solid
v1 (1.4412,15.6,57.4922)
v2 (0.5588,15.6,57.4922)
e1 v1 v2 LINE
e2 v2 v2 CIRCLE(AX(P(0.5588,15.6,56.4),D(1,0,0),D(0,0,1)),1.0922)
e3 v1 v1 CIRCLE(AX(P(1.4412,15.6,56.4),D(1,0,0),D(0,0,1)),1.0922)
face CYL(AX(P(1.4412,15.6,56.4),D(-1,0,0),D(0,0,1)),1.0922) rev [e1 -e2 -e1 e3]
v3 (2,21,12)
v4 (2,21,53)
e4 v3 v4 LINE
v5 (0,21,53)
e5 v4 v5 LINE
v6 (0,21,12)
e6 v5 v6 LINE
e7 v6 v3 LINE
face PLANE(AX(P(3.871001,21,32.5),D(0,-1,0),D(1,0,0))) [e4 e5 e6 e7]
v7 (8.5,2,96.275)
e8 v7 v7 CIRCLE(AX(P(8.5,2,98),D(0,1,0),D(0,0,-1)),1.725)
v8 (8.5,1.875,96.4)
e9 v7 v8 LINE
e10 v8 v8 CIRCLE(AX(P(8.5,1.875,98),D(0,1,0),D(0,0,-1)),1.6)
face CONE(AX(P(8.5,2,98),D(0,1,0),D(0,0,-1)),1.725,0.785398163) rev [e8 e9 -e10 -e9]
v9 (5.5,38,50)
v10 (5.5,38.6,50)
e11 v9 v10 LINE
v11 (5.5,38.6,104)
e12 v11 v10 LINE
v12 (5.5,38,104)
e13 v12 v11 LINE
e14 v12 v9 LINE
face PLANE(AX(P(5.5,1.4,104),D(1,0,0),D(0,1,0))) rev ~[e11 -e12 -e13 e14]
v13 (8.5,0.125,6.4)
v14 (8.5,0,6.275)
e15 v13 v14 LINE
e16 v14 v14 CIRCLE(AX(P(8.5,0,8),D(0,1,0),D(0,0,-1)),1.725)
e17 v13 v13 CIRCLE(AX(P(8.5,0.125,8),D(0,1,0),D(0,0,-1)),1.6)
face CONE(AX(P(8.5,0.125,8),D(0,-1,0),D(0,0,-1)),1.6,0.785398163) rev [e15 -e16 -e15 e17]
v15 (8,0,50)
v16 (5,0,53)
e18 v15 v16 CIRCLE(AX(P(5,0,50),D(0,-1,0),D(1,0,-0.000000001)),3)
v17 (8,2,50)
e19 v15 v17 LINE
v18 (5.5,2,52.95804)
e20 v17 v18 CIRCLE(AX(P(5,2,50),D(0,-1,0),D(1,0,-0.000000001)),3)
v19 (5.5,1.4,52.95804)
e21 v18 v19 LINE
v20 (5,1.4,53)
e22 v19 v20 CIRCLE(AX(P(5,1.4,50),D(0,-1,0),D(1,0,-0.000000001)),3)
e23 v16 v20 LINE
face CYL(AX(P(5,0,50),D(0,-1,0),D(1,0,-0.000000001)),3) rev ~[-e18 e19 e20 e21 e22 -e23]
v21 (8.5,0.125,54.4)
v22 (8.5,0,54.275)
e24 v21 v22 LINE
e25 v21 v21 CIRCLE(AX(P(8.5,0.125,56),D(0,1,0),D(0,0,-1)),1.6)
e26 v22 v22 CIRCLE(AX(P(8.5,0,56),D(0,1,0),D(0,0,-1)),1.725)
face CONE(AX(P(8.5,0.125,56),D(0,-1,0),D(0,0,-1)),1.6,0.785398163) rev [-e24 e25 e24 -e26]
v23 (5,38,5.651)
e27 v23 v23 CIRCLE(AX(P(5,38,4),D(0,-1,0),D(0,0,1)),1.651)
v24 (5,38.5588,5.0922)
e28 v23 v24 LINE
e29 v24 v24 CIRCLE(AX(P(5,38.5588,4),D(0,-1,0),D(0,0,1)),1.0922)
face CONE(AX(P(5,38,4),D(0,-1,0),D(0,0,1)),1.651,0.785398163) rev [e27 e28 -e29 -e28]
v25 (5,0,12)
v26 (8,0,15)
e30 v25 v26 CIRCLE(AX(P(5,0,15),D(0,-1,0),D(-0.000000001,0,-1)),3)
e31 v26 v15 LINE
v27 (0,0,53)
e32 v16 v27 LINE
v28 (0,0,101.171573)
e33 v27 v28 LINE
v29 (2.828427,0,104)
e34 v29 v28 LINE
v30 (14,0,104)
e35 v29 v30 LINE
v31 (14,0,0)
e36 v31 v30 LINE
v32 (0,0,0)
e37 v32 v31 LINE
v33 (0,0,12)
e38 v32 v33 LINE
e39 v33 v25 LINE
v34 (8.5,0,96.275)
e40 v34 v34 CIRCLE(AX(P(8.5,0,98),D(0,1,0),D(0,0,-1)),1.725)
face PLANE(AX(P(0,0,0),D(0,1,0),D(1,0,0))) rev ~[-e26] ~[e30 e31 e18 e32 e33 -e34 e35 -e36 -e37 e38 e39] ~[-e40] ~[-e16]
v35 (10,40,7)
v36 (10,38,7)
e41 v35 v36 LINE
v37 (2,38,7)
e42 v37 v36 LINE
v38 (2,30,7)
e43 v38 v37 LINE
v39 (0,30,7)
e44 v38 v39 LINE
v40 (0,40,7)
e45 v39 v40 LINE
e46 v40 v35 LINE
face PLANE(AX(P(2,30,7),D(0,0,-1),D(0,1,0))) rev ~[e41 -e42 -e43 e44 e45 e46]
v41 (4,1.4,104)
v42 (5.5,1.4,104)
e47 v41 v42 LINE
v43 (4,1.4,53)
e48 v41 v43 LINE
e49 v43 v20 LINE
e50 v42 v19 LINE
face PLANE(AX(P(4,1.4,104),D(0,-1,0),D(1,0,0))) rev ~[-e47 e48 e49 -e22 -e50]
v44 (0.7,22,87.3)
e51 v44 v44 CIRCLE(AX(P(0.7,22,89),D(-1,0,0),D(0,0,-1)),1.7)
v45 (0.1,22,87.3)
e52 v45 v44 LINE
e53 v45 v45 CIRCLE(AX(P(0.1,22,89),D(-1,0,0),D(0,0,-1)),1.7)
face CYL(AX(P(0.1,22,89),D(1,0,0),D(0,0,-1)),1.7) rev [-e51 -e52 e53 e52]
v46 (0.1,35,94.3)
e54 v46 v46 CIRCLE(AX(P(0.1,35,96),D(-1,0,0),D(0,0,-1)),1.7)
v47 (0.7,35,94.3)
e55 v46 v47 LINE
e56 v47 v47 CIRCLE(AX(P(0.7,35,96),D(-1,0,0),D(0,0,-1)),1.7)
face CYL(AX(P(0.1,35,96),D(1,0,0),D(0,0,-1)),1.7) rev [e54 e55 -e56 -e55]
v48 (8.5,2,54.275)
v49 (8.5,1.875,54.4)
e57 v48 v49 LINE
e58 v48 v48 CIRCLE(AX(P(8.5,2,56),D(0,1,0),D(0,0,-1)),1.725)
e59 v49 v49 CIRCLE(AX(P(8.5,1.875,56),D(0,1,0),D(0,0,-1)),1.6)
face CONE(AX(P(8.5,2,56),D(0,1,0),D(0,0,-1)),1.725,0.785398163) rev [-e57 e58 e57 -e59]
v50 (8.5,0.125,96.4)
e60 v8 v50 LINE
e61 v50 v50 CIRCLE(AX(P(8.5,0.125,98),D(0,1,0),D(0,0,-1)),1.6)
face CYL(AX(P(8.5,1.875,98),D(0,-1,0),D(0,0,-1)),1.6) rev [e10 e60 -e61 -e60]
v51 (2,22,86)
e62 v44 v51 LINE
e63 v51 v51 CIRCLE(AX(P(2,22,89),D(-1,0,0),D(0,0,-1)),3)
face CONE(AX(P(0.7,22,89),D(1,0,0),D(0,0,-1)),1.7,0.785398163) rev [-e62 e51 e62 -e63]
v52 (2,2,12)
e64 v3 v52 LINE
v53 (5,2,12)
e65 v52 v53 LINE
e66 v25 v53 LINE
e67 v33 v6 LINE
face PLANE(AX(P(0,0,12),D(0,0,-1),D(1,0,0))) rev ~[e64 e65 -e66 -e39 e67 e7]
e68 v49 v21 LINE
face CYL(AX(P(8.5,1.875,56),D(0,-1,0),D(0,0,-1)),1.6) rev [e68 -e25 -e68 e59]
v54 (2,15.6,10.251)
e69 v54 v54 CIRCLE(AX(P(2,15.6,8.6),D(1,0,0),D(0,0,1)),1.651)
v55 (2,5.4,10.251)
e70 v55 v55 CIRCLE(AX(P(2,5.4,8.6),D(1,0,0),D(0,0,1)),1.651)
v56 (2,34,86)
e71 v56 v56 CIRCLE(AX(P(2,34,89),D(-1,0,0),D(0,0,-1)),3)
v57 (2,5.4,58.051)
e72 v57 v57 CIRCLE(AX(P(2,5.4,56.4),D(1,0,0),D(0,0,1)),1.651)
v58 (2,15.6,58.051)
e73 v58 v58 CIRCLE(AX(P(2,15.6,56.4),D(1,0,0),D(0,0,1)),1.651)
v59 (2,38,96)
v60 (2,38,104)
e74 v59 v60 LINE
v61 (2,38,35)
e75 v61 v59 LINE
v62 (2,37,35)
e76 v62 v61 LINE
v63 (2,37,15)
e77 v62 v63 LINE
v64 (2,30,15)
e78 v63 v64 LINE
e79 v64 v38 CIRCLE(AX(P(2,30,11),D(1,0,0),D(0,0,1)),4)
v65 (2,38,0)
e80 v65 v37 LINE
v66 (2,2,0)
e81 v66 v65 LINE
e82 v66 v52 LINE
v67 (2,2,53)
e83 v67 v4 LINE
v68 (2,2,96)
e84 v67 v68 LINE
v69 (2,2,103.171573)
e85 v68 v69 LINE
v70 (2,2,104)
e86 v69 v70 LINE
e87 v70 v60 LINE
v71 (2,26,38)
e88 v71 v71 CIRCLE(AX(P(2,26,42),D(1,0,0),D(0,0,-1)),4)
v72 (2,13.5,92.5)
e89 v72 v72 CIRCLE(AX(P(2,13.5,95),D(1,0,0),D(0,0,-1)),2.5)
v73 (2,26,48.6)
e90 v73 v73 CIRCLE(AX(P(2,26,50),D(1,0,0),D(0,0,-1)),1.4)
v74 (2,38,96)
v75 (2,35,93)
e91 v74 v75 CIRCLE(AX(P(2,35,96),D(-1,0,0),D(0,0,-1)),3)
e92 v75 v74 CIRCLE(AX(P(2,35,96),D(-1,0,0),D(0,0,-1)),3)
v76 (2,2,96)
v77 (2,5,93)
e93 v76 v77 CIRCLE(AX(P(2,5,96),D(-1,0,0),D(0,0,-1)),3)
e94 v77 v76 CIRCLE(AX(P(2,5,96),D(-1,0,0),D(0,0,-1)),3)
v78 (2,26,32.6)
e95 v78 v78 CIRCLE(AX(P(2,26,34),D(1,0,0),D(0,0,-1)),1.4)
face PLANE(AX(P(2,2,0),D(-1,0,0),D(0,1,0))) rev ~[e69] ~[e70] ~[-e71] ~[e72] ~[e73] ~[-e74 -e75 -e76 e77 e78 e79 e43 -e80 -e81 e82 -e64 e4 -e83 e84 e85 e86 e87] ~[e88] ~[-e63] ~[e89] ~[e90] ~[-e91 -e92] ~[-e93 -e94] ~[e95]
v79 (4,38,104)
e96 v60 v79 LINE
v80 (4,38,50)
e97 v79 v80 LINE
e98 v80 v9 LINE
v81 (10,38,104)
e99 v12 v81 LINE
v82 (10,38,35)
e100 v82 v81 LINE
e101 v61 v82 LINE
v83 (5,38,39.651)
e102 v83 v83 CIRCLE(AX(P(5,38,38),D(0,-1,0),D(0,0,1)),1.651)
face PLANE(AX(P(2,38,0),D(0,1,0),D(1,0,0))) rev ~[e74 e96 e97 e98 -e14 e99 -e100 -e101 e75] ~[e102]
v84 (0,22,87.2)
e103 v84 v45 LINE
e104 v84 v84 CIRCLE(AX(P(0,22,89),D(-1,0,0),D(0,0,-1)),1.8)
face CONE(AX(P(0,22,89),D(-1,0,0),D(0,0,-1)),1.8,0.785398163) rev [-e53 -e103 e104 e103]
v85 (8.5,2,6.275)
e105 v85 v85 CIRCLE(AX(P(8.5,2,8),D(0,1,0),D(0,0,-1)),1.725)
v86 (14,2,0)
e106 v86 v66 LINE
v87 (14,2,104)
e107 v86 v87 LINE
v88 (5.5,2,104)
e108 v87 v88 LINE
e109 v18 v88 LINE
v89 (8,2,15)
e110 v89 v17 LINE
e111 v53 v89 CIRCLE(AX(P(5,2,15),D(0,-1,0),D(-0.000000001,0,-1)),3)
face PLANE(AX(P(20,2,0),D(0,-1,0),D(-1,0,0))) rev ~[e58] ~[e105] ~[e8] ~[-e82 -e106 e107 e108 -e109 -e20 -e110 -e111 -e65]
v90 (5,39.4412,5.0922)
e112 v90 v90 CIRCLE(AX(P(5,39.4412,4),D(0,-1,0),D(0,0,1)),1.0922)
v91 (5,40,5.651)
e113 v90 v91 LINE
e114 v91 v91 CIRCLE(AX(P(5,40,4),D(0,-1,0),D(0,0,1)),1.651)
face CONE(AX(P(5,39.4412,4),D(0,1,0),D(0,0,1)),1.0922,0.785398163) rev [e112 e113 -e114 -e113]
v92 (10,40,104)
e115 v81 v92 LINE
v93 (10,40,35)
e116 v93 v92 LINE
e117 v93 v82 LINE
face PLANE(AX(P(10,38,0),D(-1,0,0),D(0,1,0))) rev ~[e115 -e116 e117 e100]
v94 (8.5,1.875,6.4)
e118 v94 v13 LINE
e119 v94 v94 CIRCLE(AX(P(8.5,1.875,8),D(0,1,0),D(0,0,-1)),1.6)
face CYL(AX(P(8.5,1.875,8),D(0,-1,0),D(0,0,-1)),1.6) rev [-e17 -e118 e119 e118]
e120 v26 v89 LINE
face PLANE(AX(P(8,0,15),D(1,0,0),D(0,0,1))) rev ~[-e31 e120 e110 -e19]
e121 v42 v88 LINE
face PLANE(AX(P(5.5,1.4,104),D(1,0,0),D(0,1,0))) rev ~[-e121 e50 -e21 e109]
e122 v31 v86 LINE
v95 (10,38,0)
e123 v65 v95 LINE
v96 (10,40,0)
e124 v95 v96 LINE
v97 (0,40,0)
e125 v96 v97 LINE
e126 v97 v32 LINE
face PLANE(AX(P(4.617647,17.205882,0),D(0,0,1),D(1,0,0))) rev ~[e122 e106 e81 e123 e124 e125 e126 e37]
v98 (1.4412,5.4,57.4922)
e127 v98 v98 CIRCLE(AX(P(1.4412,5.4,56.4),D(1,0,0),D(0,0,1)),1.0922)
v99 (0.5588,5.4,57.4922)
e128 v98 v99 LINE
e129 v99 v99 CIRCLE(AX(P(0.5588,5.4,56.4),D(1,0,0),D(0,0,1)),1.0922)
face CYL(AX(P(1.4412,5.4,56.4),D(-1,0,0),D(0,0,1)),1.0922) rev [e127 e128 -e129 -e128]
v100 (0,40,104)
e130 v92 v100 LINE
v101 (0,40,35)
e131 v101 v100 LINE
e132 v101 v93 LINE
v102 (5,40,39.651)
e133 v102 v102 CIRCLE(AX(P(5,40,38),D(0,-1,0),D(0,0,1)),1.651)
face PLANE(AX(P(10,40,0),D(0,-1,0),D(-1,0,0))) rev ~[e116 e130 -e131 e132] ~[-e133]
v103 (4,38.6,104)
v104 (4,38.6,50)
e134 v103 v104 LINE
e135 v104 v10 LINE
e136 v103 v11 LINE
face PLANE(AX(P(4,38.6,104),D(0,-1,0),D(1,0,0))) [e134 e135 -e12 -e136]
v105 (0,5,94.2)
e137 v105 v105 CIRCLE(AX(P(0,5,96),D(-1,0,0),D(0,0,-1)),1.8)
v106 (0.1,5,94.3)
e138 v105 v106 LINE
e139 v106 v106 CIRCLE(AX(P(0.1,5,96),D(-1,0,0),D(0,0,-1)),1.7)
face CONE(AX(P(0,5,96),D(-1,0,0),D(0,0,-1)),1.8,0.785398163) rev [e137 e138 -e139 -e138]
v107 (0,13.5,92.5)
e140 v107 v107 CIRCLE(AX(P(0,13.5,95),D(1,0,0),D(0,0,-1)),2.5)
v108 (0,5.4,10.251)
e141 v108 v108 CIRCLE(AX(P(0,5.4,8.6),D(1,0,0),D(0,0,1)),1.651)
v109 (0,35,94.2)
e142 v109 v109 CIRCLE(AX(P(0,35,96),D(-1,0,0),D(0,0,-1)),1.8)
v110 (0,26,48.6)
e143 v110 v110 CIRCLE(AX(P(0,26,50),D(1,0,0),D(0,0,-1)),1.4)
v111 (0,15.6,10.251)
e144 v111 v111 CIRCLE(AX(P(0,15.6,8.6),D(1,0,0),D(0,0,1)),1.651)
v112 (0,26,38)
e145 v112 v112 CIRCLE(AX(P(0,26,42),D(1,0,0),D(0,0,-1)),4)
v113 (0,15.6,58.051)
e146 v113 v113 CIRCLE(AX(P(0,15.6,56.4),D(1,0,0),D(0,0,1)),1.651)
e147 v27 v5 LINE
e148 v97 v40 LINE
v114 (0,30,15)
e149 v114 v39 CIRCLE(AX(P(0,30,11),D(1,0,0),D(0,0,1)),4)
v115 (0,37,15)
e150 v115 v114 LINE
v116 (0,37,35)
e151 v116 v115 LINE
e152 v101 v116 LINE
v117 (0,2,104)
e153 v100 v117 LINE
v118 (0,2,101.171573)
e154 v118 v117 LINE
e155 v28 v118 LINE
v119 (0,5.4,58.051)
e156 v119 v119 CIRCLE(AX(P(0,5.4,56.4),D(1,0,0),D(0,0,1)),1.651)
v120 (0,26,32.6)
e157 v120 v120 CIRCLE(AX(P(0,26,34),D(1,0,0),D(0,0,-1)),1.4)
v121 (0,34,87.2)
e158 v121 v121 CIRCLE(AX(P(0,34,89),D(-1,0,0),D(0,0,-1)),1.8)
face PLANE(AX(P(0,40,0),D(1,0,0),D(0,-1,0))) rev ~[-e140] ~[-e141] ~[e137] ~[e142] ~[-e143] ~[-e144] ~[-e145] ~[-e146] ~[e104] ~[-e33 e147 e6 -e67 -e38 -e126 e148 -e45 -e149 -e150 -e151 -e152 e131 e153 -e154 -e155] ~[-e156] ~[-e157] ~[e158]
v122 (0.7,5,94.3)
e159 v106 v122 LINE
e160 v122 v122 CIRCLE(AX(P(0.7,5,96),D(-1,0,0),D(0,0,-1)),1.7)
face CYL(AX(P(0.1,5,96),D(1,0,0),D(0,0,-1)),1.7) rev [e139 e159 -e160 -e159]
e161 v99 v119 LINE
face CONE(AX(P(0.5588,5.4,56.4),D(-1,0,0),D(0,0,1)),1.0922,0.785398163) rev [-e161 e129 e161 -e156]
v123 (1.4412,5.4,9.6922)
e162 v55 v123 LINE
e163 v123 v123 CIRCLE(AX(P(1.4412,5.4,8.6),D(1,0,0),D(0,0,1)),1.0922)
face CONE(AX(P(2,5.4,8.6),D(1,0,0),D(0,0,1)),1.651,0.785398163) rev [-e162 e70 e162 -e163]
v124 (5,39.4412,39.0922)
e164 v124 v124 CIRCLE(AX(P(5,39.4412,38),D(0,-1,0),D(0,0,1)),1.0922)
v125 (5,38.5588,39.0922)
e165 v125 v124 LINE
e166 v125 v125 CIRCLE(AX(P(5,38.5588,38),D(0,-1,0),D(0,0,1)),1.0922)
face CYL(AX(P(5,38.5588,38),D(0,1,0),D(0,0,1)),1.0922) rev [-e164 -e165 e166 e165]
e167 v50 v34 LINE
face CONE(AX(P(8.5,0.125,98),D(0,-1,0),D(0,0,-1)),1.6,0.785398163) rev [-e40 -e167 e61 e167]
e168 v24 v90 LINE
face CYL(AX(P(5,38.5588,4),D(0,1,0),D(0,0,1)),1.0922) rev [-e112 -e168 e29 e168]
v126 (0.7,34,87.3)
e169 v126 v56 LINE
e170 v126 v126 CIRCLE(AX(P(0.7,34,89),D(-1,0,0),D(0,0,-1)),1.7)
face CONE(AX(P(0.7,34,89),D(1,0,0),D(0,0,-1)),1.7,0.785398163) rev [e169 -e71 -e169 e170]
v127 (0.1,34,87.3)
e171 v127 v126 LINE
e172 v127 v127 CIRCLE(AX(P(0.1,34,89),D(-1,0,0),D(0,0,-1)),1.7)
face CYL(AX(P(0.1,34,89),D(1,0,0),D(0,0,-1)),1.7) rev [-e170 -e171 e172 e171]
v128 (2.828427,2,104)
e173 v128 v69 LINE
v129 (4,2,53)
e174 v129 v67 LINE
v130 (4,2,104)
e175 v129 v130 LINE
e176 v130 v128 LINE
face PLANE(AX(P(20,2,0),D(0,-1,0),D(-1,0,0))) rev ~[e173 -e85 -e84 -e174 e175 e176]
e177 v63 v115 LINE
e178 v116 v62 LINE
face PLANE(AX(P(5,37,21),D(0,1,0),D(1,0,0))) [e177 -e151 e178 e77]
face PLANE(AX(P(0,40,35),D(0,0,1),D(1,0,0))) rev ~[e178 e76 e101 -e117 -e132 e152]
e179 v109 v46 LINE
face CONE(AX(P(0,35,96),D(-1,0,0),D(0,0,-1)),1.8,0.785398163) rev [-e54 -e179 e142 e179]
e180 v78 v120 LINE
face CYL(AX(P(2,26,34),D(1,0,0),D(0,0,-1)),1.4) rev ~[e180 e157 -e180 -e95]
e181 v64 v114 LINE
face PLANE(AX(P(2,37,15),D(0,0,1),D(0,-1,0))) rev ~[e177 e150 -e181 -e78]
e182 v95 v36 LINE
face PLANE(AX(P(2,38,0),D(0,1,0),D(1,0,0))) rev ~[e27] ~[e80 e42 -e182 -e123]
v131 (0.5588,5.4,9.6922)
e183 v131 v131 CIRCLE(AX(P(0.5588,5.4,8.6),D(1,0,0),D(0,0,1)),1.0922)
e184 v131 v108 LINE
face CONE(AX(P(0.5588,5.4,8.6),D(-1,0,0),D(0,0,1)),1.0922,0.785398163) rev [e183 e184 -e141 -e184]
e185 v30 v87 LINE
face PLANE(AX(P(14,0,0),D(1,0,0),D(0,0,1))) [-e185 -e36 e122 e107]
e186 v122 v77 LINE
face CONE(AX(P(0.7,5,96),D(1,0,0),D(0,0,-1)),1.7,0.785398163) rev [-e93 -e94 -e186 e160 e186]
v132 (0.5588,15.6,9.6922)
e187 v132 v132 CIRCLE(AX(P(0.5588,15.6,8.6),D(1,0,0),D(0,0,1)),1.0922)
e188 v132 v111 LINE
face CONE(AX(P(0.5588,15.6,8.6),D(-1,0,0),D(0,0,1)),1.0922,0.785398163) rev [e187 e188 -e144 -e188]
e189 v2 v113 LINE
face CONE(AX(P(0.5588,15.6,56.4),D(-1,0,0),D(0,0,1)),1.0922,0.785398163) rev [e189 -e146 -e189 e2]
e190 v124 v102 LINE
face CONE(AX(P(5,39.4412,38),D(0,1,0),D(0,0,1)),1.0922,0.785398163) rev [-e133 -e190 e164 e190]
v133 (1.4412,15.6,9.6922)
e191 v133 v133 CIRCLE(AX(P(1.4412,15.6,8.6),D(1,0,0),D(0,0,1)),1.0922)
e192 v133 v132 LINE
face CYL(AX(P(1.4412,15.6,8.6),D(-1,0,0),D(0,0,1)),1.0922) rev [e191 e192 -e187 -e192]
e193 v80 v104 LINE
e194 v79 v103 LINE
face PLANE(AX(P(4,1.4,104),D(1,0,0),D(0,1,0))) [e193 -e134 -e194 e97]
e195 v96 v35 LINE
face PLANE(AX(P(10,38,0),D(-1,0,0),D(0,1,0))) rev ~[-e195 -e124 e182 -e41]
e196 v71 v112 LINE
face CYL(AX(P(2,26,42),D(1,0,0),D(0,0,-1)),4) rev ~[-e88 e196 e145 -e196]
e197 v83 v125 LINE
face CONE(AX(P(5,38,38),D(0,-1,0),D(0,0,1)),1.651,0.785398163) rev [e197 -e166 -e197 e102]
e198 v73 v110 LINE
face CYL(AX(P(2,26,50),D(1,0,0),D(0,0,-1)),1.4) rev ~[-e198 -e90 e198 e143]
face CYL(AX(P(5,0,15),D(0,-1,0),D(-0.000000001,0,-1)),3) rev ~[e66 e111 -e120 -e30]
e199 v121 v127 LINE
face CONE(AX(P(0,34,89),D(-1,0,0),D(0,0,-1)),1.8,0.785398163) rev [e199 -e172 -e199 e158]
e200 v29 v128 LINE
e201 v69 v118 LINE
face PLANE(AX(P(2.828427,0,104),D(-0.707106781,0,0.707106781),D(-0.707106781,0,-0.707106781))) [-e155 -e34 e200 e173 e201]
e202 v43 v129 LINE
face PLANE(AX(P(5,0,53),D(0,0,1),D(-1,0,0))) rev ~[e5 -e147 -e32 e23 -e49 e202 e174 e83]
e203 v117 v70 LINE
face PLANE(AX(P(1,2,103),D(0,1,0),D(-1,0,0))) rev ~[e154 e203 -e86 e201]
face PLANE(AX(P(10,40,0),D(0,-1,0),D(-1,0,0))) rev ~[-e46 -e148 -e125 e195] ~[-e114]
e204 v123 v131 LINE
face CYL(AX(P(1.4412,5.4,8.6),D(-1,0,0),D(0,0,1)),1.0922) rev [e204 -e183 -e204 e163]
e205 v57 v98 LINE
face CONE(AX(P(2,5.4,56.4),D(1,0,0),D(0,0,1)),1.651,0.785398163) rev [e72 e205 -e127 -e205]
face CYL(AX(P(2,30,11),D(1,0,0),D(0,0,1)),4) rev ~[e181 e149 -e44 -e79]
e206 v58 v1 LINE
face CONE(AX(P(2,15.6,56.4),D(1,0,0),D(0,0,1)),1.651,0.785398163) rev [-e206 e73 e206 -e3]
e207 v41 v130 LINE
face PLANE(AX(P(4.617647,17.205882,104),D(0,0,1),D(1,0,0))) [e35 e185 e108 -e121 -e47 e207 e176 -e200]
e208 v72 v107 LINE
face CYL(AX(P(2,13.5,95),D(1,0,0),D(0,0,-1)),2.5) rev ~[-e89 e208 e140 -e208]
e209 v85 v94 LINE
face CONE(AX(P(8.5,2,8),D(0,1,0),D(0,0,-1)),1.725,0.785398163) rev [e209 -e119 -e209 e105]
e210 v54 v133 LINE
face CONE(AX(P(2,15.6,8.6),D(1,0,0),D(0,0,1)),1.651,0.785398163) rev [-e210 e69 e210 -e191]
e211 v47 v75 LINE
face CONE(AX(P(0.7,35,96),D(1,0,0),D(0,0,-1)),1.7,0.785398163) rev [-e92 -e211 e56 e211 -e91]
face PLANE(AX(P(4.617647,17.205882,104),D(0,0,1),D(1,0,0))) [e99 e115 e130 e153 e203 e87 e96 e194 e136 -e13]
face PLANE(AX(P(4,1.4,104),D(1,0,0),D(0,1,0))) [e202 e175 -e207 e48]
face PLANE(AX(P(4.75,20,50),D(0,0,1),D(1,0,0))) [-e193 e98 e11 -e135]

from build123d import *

# Parameters (mm, degrees)
EXTRUDE_1_DEPTH               = 104
SKETCH_2_W                    = 6
SKETCH_2_H                    = 104
CUT_EXTRUDE_1_DEPTH           = 21
HOLE_WIZARD_4_4_40_AT_2_COUNT = 2
HOLE_WIZARD_4_4_40_AT_2_PITCH = 10.2
HOLE_WIZARD_4_4_40_AT_3_COUNT = 2
HOLE_WIZARD_4_4_40_AT_3_PITCH = 48.876170063
HOLE_WIZARD_4_4_40_AT_4_COUNT = 2
HOLE_WIZARD_4_4_40_AT_4_PITCH = 47.8
HOLE_WIZARD_4_4_40_AT_5_COUNT = 2
HOLE_WIZARD_4_4_40_AT_5_PITCH = 24.438085031
SKETCH_6_W                    = 10
SKETCH_6_H                    = 28
CUT_EXTRUDE_3_DEPTH           = 3
HOLE_WIZARD_M31_AT_2_COUNT    = 2
HOLE_WIZARD_M31_AT_2_PITCH    = 42
HOLE_WIZARD_M31_AT_3_COUNT    = 2
HOLE_WIZARD_M31_AT_3_PITCH    = 90
HOLE_WIZARD_2_4_40_AT_2_COUNT = 2
HOLE_WIZARD_2_4_40_AT_2_PITCH = 34
SKETCH_13_W                   = 1.5
SKETCH_13_H                   = 37.2
CUT_EXTRUDE_6_DEPTH           = 54
HOLE_WIZARD_3_AT_2_COUNT      = 2
HOLE_WIZARD_3_AT_2_PITCH      = 12
HOLE_WIZARD_3_AT_3_COUNT      = 2
HOLE_WIZARD_3_AT_3_PITCH      = 7.071067812
HOLE_WIZARD_3_AT_4_COUNT      = 2
HOLE_WIZARD_3_AT_4_PITCH      = 29.83286778
CUT_EXTRUDE_8_DEPTH           = 2
SKETCH_18_R                   = 4
SKETCH_18_R_2                 = 1.4
CUT_EXTRUDE_9_DEPTH           = 3
CUT_EXTRUDE_10_REACH          = 4
SKETCH_19_R                   = 2.5


with BuildPart() as part:
    # Эскиз1 → Бобышка-Вытянуть1 (new body)
    with BuildSketch(Plane.XY):
        Polygon((0, 40), (0, 0), (20, 0), (20, 2), (2, 2), (2, 38), (10, 38), (10, 40), align=None)
    extrude(amount=EXTRUDE_1_DEPTH)

    # Эскиз2 → Вырез-Вытянуть1 (cut)
    with BuildSketch(Plane.XZ):
        with BuildLine():
            Line((5, 53), (0, 53))
            Line((0, 53), (0, 12))
            Line((0, 12), (5, 12))
            ThreePointArc((5, 12), (7.121320344, 12.878679656), (8, 15))
            Line((8, 15), (8, 50))
            ThreePointArc((8, 50), (7.121320344, 52.121320344), (5, 53))
        make_face()
        with Locations((17, 52)):
            Rectangle(SKETCH_2_W, SKETCH_2_H)
    extrude(amount=-CUT_EXTRUDE_1_DEPTH, mode=Mode.SUBTRACT)

    # Эскиз3 → 4_отв_4-40 (revolve, cut)
    with BuildSketch(Plane(origin=(0, 15.6, 8.6), x_dir=(0, 0, 1), z_dir=(0, 1, 0))):
        Polygon((0, 0), (0, 2), (1.651, 2), (1.0922, 1.4412), (1.0922, 0.5588), (1.651, 0), align=None)
    hole_wizard_4_4_40 = revolve(axis=Axis((-6.35, 15.6, 8.6), (1, 0, 0)), mode=Mode.SUBTRACT)

    # 4_отв_4-40 at 2: 4_отв_4-40 ×2
    with Locations(*[(0, -i * HOLE_WIZARD_4_4_40_AT_2_PITCH, 0) for i in range(1, HOLE_WIZARD_4_4_40_AT_2_COUNT)]):
        add(hole_wizard_4_4_40, mode=Mode.SUBTRACT)

    # 4_отв_4-40 at 3: 4_отв_4-40 ×2
    with Locations(*[Vector(0, -0.208690656, 0.977981702) * (i * HOLE_WIZARD_4_4_40_AT_3_PITCH) for i in range(1, HOLE_WIZARD_4_4_40_AT_3_COUNT)]):
        add(hole_wizard_4_4_40, mode=Mode.SUBTRACT)

    # 4_отв_4-40 at 4: 4_отв_4-40 ×2
    with Locations(*[(0, 0, i * HOLE_WIZARD_4_4_40_AT_4_PITCH) for i in range(1, HOLE_WIZARD_4_4_40_AT_4_COUNT)]):
        add(hole_wizard_4_4_40, mode=Mode.SUBTRACT)

    # 4_отв_4-40 at 5: 4_отв_4-40 ×2
    with Locations(*[Vector(0, -0.208690656, 0.977981702) * (i * HOLE_WIZARD_4_4_40_AT_5_PITCH) for i in range(1, HOLE_WIZARD_4_4_40_AT_5_COUNT)]):
        add(hole_wizard_4_4_40, mode=Mode.SUBTRACT)

    # Эскиз6 → Вырез-Вытянуть3 (cut)
    with BuildSketch(Plane(origin=(0, 40, 0), x_dir=(1, 0, 0), z_dir=(0, 1, 0))):
        with Locations((5, -21)):
            Rectangle(SKETCH_6_W, SKETCH_6_H)
    extrude(amount=-CUT_EXTRUDE_3_DEPTH, mode=Mode.SUBTRACT)

    # Эскиз8 → Отверстие с зазором M31 (revolve, cut)
    with BuildSketch(Plane(origin=(8.5, 0, 98), x_dir=(0, 0, -1), z_dir=(1, 0, 0))):
        Polygon((0, 0), (0, 2), (1.725, 2), (1.6, 1.875), (1.6, 0.125), (1.725, 0), align=None)
    hole_wizard_m31 = revolve(axis=Axis((8.5, -6.35, 98), (0, 1, 0)), mode=Mode.SUBTRACT)

    # Отверстие с зазором M31 at 2: Отверстие с зазором M31 ×2
    with Locations(*[(0, 0, -i * HOLE_WIZARD_M31_AT_2_PITCH) for i in range(1, HOLE_WIZARD_M31_AT_2_COUNT)]):
        add(hole_wizard_m31, mode=Mode.SUBTRACT)

    # Отверстие с зазором M31 at 3: Отверстие с зазором M31 ×2
    with Locations(*[(0, 0, -i * HOLE_WIZARD_M31_AT_3_PITCH) for i in range(1, HOLE_WIZARD_M31_AT_3_COUNT)]):
        add(hole_wizard_m31, mode=Mode.SUBTRACT)

    # Эскиз11 → 2_отв_4-40 (revolve, cut)
    with BuildSketch(Plane(origin=(5, 40, 38), x_dir=(0, 0, 1), z_dir=(1, 0, 0))):
        Polygon((0, 0), (0, 2), (1.651, 2), (1.0922, 1.4412), (1.0922, 0.5588), (1.651, 0), align=None)
    hole_wizard_2_4_40 = revolve(axis=Axis((5, 46.35, 38), (0, -1, 0)), mode=Mode.SUBTRACT)

    # 2_отв_4-40 at 2: 2_отв_4-40 ×2
    with Locations(*[(0, 0, -i * HOLE_WIZARD_2_4_40_AT_2_PITCH) for i in range(1, HOLE_WIZARD_2_4_40_AT_2_COUNT)]):
        add(hole_wizard_2_4_40, mode=Mode.SUBTRACT)

    # Эскиз13 → Вырез-Вытянуть6 (cut)
    with BuildSketch(Plane.XY.offset(104)):
        with Locations((4.75, 20)):
            Rectangle(SKETCH_13_W, SKETCH_13_H)
    extrude(amount=-CUT_EXTRUDE_6_DEPTH, mode=Mode.SUBTRACT)

    # Эскиз15 → М3 потай (revolve, cut)
    with BuildSketch(Plane(origin=(2, 34, 89), x_dir=(0, 0, -1), z_dir=(0, 1, 0))):
        Polygon((0, 0), (0, 2), (1.8, 2), (1.7, 1.9), (1.7, 1.3), (3, 0), align=None)
    hole_wizard_3 = revolve(axis=Axis((8.35, 34, 89), (-1, 0, 0)), mode=Mode.SUBTRACT)

    # М3 потай at 2: М3 потай ×2
    with Locations(*[(0, -i * HOLE_WIZARD_3_AT_2_PITCH, 0) for i in range(1, HOLE_WIZARD_3_AT_2_COUNT)]):
        add(hole_wizard_3, mode=Mode.SUBTRACT)

    # М3 потай at 3: М3 потай ×2
    with Locations(*[Vector(0, 0.141421356, 0.989949494) * (i * HOLE_WIZARD_3_AT_3_PITCH) for i in range(1, HOLE_WIZARD_3_AT_3_COUNT)]):
        add(hole_wizard_3, mode=Mode.SUBTRACT)

    # М3 потай at 4: М3 потай ×2
    with Locations(*[Vector(0, -0.972082209, 0.234640533) * (i * HOLE_WIZARD_3_AT_4_PITCH) for i in range(1, HOLE_WIZARD_3_AT_4_COUNT)]):
        add(hole_wizard_3, mode=Mode.SUBTRACT)

    # Эскиз17 → Вырез-Вытянуть8 (cut)
    with BuildSketch(Plane.XZ):
        Polygon((0, 104), (2.828427125, 104), (0, 101.171572875), align=None)
    extrude(amount=-CUT_EXTRUDE_8_DEPTH, mode=Mode.SUBTRACT)

    # Эскиз18 → Вырез-Вытянуть9 (cut, through all)
    with BuildSketch(Plane(origin=(2, 0, 0), x_dir=(0, 0, -1), z_dir=(1, 0, 0))):
        with BuildLine():
            Line((-7, 30), (-7, 37))
            Line((-7, 37), (-15, 37))
            Line((-15, 37), (-15, 30))
            ThreePointArc((-15, 30), (-11, 26), (-7, 30))
        make_face()
        with Locations((-42, 26)):
            Circle(SKETCH_18_R)
        with Locations((-50, 26)):
            Circle(SKETCH_18_R_2)
        with Locations((-34, 26)):
            Circle(SKETCH_18_R_2)
    extrude(amount=-CUT_EXTRUDE_9_DEPTH, mode=Mode.SUBTRACT)

    # Эскиз19 → Вырез-Вытянуть10 (cut, up to next)
    with BuildSketch(Plane(origin=(2, 0, 0), x_dir=(0, 0, -1), z_dir=(1, 0, 0)), mode=Mode.PRIVATE) as cut_extrude_10_sk1:
        with Locations((-95, 13.5)):
            Circle(SKETCH_19_R)
    cut_extrude_10_tool1 = extrude(cut_extrude_10_sk1.sketch, amount=-CUT_EXTRUDE_10_REACH, mode=Mode.PRIVATE) & part.part
    add(cut_extrude_10_tool1.solids().sort_by_distance((2, 13.5, 95))[0], mode=Mode.SUBTRACT)


solid = part.part
